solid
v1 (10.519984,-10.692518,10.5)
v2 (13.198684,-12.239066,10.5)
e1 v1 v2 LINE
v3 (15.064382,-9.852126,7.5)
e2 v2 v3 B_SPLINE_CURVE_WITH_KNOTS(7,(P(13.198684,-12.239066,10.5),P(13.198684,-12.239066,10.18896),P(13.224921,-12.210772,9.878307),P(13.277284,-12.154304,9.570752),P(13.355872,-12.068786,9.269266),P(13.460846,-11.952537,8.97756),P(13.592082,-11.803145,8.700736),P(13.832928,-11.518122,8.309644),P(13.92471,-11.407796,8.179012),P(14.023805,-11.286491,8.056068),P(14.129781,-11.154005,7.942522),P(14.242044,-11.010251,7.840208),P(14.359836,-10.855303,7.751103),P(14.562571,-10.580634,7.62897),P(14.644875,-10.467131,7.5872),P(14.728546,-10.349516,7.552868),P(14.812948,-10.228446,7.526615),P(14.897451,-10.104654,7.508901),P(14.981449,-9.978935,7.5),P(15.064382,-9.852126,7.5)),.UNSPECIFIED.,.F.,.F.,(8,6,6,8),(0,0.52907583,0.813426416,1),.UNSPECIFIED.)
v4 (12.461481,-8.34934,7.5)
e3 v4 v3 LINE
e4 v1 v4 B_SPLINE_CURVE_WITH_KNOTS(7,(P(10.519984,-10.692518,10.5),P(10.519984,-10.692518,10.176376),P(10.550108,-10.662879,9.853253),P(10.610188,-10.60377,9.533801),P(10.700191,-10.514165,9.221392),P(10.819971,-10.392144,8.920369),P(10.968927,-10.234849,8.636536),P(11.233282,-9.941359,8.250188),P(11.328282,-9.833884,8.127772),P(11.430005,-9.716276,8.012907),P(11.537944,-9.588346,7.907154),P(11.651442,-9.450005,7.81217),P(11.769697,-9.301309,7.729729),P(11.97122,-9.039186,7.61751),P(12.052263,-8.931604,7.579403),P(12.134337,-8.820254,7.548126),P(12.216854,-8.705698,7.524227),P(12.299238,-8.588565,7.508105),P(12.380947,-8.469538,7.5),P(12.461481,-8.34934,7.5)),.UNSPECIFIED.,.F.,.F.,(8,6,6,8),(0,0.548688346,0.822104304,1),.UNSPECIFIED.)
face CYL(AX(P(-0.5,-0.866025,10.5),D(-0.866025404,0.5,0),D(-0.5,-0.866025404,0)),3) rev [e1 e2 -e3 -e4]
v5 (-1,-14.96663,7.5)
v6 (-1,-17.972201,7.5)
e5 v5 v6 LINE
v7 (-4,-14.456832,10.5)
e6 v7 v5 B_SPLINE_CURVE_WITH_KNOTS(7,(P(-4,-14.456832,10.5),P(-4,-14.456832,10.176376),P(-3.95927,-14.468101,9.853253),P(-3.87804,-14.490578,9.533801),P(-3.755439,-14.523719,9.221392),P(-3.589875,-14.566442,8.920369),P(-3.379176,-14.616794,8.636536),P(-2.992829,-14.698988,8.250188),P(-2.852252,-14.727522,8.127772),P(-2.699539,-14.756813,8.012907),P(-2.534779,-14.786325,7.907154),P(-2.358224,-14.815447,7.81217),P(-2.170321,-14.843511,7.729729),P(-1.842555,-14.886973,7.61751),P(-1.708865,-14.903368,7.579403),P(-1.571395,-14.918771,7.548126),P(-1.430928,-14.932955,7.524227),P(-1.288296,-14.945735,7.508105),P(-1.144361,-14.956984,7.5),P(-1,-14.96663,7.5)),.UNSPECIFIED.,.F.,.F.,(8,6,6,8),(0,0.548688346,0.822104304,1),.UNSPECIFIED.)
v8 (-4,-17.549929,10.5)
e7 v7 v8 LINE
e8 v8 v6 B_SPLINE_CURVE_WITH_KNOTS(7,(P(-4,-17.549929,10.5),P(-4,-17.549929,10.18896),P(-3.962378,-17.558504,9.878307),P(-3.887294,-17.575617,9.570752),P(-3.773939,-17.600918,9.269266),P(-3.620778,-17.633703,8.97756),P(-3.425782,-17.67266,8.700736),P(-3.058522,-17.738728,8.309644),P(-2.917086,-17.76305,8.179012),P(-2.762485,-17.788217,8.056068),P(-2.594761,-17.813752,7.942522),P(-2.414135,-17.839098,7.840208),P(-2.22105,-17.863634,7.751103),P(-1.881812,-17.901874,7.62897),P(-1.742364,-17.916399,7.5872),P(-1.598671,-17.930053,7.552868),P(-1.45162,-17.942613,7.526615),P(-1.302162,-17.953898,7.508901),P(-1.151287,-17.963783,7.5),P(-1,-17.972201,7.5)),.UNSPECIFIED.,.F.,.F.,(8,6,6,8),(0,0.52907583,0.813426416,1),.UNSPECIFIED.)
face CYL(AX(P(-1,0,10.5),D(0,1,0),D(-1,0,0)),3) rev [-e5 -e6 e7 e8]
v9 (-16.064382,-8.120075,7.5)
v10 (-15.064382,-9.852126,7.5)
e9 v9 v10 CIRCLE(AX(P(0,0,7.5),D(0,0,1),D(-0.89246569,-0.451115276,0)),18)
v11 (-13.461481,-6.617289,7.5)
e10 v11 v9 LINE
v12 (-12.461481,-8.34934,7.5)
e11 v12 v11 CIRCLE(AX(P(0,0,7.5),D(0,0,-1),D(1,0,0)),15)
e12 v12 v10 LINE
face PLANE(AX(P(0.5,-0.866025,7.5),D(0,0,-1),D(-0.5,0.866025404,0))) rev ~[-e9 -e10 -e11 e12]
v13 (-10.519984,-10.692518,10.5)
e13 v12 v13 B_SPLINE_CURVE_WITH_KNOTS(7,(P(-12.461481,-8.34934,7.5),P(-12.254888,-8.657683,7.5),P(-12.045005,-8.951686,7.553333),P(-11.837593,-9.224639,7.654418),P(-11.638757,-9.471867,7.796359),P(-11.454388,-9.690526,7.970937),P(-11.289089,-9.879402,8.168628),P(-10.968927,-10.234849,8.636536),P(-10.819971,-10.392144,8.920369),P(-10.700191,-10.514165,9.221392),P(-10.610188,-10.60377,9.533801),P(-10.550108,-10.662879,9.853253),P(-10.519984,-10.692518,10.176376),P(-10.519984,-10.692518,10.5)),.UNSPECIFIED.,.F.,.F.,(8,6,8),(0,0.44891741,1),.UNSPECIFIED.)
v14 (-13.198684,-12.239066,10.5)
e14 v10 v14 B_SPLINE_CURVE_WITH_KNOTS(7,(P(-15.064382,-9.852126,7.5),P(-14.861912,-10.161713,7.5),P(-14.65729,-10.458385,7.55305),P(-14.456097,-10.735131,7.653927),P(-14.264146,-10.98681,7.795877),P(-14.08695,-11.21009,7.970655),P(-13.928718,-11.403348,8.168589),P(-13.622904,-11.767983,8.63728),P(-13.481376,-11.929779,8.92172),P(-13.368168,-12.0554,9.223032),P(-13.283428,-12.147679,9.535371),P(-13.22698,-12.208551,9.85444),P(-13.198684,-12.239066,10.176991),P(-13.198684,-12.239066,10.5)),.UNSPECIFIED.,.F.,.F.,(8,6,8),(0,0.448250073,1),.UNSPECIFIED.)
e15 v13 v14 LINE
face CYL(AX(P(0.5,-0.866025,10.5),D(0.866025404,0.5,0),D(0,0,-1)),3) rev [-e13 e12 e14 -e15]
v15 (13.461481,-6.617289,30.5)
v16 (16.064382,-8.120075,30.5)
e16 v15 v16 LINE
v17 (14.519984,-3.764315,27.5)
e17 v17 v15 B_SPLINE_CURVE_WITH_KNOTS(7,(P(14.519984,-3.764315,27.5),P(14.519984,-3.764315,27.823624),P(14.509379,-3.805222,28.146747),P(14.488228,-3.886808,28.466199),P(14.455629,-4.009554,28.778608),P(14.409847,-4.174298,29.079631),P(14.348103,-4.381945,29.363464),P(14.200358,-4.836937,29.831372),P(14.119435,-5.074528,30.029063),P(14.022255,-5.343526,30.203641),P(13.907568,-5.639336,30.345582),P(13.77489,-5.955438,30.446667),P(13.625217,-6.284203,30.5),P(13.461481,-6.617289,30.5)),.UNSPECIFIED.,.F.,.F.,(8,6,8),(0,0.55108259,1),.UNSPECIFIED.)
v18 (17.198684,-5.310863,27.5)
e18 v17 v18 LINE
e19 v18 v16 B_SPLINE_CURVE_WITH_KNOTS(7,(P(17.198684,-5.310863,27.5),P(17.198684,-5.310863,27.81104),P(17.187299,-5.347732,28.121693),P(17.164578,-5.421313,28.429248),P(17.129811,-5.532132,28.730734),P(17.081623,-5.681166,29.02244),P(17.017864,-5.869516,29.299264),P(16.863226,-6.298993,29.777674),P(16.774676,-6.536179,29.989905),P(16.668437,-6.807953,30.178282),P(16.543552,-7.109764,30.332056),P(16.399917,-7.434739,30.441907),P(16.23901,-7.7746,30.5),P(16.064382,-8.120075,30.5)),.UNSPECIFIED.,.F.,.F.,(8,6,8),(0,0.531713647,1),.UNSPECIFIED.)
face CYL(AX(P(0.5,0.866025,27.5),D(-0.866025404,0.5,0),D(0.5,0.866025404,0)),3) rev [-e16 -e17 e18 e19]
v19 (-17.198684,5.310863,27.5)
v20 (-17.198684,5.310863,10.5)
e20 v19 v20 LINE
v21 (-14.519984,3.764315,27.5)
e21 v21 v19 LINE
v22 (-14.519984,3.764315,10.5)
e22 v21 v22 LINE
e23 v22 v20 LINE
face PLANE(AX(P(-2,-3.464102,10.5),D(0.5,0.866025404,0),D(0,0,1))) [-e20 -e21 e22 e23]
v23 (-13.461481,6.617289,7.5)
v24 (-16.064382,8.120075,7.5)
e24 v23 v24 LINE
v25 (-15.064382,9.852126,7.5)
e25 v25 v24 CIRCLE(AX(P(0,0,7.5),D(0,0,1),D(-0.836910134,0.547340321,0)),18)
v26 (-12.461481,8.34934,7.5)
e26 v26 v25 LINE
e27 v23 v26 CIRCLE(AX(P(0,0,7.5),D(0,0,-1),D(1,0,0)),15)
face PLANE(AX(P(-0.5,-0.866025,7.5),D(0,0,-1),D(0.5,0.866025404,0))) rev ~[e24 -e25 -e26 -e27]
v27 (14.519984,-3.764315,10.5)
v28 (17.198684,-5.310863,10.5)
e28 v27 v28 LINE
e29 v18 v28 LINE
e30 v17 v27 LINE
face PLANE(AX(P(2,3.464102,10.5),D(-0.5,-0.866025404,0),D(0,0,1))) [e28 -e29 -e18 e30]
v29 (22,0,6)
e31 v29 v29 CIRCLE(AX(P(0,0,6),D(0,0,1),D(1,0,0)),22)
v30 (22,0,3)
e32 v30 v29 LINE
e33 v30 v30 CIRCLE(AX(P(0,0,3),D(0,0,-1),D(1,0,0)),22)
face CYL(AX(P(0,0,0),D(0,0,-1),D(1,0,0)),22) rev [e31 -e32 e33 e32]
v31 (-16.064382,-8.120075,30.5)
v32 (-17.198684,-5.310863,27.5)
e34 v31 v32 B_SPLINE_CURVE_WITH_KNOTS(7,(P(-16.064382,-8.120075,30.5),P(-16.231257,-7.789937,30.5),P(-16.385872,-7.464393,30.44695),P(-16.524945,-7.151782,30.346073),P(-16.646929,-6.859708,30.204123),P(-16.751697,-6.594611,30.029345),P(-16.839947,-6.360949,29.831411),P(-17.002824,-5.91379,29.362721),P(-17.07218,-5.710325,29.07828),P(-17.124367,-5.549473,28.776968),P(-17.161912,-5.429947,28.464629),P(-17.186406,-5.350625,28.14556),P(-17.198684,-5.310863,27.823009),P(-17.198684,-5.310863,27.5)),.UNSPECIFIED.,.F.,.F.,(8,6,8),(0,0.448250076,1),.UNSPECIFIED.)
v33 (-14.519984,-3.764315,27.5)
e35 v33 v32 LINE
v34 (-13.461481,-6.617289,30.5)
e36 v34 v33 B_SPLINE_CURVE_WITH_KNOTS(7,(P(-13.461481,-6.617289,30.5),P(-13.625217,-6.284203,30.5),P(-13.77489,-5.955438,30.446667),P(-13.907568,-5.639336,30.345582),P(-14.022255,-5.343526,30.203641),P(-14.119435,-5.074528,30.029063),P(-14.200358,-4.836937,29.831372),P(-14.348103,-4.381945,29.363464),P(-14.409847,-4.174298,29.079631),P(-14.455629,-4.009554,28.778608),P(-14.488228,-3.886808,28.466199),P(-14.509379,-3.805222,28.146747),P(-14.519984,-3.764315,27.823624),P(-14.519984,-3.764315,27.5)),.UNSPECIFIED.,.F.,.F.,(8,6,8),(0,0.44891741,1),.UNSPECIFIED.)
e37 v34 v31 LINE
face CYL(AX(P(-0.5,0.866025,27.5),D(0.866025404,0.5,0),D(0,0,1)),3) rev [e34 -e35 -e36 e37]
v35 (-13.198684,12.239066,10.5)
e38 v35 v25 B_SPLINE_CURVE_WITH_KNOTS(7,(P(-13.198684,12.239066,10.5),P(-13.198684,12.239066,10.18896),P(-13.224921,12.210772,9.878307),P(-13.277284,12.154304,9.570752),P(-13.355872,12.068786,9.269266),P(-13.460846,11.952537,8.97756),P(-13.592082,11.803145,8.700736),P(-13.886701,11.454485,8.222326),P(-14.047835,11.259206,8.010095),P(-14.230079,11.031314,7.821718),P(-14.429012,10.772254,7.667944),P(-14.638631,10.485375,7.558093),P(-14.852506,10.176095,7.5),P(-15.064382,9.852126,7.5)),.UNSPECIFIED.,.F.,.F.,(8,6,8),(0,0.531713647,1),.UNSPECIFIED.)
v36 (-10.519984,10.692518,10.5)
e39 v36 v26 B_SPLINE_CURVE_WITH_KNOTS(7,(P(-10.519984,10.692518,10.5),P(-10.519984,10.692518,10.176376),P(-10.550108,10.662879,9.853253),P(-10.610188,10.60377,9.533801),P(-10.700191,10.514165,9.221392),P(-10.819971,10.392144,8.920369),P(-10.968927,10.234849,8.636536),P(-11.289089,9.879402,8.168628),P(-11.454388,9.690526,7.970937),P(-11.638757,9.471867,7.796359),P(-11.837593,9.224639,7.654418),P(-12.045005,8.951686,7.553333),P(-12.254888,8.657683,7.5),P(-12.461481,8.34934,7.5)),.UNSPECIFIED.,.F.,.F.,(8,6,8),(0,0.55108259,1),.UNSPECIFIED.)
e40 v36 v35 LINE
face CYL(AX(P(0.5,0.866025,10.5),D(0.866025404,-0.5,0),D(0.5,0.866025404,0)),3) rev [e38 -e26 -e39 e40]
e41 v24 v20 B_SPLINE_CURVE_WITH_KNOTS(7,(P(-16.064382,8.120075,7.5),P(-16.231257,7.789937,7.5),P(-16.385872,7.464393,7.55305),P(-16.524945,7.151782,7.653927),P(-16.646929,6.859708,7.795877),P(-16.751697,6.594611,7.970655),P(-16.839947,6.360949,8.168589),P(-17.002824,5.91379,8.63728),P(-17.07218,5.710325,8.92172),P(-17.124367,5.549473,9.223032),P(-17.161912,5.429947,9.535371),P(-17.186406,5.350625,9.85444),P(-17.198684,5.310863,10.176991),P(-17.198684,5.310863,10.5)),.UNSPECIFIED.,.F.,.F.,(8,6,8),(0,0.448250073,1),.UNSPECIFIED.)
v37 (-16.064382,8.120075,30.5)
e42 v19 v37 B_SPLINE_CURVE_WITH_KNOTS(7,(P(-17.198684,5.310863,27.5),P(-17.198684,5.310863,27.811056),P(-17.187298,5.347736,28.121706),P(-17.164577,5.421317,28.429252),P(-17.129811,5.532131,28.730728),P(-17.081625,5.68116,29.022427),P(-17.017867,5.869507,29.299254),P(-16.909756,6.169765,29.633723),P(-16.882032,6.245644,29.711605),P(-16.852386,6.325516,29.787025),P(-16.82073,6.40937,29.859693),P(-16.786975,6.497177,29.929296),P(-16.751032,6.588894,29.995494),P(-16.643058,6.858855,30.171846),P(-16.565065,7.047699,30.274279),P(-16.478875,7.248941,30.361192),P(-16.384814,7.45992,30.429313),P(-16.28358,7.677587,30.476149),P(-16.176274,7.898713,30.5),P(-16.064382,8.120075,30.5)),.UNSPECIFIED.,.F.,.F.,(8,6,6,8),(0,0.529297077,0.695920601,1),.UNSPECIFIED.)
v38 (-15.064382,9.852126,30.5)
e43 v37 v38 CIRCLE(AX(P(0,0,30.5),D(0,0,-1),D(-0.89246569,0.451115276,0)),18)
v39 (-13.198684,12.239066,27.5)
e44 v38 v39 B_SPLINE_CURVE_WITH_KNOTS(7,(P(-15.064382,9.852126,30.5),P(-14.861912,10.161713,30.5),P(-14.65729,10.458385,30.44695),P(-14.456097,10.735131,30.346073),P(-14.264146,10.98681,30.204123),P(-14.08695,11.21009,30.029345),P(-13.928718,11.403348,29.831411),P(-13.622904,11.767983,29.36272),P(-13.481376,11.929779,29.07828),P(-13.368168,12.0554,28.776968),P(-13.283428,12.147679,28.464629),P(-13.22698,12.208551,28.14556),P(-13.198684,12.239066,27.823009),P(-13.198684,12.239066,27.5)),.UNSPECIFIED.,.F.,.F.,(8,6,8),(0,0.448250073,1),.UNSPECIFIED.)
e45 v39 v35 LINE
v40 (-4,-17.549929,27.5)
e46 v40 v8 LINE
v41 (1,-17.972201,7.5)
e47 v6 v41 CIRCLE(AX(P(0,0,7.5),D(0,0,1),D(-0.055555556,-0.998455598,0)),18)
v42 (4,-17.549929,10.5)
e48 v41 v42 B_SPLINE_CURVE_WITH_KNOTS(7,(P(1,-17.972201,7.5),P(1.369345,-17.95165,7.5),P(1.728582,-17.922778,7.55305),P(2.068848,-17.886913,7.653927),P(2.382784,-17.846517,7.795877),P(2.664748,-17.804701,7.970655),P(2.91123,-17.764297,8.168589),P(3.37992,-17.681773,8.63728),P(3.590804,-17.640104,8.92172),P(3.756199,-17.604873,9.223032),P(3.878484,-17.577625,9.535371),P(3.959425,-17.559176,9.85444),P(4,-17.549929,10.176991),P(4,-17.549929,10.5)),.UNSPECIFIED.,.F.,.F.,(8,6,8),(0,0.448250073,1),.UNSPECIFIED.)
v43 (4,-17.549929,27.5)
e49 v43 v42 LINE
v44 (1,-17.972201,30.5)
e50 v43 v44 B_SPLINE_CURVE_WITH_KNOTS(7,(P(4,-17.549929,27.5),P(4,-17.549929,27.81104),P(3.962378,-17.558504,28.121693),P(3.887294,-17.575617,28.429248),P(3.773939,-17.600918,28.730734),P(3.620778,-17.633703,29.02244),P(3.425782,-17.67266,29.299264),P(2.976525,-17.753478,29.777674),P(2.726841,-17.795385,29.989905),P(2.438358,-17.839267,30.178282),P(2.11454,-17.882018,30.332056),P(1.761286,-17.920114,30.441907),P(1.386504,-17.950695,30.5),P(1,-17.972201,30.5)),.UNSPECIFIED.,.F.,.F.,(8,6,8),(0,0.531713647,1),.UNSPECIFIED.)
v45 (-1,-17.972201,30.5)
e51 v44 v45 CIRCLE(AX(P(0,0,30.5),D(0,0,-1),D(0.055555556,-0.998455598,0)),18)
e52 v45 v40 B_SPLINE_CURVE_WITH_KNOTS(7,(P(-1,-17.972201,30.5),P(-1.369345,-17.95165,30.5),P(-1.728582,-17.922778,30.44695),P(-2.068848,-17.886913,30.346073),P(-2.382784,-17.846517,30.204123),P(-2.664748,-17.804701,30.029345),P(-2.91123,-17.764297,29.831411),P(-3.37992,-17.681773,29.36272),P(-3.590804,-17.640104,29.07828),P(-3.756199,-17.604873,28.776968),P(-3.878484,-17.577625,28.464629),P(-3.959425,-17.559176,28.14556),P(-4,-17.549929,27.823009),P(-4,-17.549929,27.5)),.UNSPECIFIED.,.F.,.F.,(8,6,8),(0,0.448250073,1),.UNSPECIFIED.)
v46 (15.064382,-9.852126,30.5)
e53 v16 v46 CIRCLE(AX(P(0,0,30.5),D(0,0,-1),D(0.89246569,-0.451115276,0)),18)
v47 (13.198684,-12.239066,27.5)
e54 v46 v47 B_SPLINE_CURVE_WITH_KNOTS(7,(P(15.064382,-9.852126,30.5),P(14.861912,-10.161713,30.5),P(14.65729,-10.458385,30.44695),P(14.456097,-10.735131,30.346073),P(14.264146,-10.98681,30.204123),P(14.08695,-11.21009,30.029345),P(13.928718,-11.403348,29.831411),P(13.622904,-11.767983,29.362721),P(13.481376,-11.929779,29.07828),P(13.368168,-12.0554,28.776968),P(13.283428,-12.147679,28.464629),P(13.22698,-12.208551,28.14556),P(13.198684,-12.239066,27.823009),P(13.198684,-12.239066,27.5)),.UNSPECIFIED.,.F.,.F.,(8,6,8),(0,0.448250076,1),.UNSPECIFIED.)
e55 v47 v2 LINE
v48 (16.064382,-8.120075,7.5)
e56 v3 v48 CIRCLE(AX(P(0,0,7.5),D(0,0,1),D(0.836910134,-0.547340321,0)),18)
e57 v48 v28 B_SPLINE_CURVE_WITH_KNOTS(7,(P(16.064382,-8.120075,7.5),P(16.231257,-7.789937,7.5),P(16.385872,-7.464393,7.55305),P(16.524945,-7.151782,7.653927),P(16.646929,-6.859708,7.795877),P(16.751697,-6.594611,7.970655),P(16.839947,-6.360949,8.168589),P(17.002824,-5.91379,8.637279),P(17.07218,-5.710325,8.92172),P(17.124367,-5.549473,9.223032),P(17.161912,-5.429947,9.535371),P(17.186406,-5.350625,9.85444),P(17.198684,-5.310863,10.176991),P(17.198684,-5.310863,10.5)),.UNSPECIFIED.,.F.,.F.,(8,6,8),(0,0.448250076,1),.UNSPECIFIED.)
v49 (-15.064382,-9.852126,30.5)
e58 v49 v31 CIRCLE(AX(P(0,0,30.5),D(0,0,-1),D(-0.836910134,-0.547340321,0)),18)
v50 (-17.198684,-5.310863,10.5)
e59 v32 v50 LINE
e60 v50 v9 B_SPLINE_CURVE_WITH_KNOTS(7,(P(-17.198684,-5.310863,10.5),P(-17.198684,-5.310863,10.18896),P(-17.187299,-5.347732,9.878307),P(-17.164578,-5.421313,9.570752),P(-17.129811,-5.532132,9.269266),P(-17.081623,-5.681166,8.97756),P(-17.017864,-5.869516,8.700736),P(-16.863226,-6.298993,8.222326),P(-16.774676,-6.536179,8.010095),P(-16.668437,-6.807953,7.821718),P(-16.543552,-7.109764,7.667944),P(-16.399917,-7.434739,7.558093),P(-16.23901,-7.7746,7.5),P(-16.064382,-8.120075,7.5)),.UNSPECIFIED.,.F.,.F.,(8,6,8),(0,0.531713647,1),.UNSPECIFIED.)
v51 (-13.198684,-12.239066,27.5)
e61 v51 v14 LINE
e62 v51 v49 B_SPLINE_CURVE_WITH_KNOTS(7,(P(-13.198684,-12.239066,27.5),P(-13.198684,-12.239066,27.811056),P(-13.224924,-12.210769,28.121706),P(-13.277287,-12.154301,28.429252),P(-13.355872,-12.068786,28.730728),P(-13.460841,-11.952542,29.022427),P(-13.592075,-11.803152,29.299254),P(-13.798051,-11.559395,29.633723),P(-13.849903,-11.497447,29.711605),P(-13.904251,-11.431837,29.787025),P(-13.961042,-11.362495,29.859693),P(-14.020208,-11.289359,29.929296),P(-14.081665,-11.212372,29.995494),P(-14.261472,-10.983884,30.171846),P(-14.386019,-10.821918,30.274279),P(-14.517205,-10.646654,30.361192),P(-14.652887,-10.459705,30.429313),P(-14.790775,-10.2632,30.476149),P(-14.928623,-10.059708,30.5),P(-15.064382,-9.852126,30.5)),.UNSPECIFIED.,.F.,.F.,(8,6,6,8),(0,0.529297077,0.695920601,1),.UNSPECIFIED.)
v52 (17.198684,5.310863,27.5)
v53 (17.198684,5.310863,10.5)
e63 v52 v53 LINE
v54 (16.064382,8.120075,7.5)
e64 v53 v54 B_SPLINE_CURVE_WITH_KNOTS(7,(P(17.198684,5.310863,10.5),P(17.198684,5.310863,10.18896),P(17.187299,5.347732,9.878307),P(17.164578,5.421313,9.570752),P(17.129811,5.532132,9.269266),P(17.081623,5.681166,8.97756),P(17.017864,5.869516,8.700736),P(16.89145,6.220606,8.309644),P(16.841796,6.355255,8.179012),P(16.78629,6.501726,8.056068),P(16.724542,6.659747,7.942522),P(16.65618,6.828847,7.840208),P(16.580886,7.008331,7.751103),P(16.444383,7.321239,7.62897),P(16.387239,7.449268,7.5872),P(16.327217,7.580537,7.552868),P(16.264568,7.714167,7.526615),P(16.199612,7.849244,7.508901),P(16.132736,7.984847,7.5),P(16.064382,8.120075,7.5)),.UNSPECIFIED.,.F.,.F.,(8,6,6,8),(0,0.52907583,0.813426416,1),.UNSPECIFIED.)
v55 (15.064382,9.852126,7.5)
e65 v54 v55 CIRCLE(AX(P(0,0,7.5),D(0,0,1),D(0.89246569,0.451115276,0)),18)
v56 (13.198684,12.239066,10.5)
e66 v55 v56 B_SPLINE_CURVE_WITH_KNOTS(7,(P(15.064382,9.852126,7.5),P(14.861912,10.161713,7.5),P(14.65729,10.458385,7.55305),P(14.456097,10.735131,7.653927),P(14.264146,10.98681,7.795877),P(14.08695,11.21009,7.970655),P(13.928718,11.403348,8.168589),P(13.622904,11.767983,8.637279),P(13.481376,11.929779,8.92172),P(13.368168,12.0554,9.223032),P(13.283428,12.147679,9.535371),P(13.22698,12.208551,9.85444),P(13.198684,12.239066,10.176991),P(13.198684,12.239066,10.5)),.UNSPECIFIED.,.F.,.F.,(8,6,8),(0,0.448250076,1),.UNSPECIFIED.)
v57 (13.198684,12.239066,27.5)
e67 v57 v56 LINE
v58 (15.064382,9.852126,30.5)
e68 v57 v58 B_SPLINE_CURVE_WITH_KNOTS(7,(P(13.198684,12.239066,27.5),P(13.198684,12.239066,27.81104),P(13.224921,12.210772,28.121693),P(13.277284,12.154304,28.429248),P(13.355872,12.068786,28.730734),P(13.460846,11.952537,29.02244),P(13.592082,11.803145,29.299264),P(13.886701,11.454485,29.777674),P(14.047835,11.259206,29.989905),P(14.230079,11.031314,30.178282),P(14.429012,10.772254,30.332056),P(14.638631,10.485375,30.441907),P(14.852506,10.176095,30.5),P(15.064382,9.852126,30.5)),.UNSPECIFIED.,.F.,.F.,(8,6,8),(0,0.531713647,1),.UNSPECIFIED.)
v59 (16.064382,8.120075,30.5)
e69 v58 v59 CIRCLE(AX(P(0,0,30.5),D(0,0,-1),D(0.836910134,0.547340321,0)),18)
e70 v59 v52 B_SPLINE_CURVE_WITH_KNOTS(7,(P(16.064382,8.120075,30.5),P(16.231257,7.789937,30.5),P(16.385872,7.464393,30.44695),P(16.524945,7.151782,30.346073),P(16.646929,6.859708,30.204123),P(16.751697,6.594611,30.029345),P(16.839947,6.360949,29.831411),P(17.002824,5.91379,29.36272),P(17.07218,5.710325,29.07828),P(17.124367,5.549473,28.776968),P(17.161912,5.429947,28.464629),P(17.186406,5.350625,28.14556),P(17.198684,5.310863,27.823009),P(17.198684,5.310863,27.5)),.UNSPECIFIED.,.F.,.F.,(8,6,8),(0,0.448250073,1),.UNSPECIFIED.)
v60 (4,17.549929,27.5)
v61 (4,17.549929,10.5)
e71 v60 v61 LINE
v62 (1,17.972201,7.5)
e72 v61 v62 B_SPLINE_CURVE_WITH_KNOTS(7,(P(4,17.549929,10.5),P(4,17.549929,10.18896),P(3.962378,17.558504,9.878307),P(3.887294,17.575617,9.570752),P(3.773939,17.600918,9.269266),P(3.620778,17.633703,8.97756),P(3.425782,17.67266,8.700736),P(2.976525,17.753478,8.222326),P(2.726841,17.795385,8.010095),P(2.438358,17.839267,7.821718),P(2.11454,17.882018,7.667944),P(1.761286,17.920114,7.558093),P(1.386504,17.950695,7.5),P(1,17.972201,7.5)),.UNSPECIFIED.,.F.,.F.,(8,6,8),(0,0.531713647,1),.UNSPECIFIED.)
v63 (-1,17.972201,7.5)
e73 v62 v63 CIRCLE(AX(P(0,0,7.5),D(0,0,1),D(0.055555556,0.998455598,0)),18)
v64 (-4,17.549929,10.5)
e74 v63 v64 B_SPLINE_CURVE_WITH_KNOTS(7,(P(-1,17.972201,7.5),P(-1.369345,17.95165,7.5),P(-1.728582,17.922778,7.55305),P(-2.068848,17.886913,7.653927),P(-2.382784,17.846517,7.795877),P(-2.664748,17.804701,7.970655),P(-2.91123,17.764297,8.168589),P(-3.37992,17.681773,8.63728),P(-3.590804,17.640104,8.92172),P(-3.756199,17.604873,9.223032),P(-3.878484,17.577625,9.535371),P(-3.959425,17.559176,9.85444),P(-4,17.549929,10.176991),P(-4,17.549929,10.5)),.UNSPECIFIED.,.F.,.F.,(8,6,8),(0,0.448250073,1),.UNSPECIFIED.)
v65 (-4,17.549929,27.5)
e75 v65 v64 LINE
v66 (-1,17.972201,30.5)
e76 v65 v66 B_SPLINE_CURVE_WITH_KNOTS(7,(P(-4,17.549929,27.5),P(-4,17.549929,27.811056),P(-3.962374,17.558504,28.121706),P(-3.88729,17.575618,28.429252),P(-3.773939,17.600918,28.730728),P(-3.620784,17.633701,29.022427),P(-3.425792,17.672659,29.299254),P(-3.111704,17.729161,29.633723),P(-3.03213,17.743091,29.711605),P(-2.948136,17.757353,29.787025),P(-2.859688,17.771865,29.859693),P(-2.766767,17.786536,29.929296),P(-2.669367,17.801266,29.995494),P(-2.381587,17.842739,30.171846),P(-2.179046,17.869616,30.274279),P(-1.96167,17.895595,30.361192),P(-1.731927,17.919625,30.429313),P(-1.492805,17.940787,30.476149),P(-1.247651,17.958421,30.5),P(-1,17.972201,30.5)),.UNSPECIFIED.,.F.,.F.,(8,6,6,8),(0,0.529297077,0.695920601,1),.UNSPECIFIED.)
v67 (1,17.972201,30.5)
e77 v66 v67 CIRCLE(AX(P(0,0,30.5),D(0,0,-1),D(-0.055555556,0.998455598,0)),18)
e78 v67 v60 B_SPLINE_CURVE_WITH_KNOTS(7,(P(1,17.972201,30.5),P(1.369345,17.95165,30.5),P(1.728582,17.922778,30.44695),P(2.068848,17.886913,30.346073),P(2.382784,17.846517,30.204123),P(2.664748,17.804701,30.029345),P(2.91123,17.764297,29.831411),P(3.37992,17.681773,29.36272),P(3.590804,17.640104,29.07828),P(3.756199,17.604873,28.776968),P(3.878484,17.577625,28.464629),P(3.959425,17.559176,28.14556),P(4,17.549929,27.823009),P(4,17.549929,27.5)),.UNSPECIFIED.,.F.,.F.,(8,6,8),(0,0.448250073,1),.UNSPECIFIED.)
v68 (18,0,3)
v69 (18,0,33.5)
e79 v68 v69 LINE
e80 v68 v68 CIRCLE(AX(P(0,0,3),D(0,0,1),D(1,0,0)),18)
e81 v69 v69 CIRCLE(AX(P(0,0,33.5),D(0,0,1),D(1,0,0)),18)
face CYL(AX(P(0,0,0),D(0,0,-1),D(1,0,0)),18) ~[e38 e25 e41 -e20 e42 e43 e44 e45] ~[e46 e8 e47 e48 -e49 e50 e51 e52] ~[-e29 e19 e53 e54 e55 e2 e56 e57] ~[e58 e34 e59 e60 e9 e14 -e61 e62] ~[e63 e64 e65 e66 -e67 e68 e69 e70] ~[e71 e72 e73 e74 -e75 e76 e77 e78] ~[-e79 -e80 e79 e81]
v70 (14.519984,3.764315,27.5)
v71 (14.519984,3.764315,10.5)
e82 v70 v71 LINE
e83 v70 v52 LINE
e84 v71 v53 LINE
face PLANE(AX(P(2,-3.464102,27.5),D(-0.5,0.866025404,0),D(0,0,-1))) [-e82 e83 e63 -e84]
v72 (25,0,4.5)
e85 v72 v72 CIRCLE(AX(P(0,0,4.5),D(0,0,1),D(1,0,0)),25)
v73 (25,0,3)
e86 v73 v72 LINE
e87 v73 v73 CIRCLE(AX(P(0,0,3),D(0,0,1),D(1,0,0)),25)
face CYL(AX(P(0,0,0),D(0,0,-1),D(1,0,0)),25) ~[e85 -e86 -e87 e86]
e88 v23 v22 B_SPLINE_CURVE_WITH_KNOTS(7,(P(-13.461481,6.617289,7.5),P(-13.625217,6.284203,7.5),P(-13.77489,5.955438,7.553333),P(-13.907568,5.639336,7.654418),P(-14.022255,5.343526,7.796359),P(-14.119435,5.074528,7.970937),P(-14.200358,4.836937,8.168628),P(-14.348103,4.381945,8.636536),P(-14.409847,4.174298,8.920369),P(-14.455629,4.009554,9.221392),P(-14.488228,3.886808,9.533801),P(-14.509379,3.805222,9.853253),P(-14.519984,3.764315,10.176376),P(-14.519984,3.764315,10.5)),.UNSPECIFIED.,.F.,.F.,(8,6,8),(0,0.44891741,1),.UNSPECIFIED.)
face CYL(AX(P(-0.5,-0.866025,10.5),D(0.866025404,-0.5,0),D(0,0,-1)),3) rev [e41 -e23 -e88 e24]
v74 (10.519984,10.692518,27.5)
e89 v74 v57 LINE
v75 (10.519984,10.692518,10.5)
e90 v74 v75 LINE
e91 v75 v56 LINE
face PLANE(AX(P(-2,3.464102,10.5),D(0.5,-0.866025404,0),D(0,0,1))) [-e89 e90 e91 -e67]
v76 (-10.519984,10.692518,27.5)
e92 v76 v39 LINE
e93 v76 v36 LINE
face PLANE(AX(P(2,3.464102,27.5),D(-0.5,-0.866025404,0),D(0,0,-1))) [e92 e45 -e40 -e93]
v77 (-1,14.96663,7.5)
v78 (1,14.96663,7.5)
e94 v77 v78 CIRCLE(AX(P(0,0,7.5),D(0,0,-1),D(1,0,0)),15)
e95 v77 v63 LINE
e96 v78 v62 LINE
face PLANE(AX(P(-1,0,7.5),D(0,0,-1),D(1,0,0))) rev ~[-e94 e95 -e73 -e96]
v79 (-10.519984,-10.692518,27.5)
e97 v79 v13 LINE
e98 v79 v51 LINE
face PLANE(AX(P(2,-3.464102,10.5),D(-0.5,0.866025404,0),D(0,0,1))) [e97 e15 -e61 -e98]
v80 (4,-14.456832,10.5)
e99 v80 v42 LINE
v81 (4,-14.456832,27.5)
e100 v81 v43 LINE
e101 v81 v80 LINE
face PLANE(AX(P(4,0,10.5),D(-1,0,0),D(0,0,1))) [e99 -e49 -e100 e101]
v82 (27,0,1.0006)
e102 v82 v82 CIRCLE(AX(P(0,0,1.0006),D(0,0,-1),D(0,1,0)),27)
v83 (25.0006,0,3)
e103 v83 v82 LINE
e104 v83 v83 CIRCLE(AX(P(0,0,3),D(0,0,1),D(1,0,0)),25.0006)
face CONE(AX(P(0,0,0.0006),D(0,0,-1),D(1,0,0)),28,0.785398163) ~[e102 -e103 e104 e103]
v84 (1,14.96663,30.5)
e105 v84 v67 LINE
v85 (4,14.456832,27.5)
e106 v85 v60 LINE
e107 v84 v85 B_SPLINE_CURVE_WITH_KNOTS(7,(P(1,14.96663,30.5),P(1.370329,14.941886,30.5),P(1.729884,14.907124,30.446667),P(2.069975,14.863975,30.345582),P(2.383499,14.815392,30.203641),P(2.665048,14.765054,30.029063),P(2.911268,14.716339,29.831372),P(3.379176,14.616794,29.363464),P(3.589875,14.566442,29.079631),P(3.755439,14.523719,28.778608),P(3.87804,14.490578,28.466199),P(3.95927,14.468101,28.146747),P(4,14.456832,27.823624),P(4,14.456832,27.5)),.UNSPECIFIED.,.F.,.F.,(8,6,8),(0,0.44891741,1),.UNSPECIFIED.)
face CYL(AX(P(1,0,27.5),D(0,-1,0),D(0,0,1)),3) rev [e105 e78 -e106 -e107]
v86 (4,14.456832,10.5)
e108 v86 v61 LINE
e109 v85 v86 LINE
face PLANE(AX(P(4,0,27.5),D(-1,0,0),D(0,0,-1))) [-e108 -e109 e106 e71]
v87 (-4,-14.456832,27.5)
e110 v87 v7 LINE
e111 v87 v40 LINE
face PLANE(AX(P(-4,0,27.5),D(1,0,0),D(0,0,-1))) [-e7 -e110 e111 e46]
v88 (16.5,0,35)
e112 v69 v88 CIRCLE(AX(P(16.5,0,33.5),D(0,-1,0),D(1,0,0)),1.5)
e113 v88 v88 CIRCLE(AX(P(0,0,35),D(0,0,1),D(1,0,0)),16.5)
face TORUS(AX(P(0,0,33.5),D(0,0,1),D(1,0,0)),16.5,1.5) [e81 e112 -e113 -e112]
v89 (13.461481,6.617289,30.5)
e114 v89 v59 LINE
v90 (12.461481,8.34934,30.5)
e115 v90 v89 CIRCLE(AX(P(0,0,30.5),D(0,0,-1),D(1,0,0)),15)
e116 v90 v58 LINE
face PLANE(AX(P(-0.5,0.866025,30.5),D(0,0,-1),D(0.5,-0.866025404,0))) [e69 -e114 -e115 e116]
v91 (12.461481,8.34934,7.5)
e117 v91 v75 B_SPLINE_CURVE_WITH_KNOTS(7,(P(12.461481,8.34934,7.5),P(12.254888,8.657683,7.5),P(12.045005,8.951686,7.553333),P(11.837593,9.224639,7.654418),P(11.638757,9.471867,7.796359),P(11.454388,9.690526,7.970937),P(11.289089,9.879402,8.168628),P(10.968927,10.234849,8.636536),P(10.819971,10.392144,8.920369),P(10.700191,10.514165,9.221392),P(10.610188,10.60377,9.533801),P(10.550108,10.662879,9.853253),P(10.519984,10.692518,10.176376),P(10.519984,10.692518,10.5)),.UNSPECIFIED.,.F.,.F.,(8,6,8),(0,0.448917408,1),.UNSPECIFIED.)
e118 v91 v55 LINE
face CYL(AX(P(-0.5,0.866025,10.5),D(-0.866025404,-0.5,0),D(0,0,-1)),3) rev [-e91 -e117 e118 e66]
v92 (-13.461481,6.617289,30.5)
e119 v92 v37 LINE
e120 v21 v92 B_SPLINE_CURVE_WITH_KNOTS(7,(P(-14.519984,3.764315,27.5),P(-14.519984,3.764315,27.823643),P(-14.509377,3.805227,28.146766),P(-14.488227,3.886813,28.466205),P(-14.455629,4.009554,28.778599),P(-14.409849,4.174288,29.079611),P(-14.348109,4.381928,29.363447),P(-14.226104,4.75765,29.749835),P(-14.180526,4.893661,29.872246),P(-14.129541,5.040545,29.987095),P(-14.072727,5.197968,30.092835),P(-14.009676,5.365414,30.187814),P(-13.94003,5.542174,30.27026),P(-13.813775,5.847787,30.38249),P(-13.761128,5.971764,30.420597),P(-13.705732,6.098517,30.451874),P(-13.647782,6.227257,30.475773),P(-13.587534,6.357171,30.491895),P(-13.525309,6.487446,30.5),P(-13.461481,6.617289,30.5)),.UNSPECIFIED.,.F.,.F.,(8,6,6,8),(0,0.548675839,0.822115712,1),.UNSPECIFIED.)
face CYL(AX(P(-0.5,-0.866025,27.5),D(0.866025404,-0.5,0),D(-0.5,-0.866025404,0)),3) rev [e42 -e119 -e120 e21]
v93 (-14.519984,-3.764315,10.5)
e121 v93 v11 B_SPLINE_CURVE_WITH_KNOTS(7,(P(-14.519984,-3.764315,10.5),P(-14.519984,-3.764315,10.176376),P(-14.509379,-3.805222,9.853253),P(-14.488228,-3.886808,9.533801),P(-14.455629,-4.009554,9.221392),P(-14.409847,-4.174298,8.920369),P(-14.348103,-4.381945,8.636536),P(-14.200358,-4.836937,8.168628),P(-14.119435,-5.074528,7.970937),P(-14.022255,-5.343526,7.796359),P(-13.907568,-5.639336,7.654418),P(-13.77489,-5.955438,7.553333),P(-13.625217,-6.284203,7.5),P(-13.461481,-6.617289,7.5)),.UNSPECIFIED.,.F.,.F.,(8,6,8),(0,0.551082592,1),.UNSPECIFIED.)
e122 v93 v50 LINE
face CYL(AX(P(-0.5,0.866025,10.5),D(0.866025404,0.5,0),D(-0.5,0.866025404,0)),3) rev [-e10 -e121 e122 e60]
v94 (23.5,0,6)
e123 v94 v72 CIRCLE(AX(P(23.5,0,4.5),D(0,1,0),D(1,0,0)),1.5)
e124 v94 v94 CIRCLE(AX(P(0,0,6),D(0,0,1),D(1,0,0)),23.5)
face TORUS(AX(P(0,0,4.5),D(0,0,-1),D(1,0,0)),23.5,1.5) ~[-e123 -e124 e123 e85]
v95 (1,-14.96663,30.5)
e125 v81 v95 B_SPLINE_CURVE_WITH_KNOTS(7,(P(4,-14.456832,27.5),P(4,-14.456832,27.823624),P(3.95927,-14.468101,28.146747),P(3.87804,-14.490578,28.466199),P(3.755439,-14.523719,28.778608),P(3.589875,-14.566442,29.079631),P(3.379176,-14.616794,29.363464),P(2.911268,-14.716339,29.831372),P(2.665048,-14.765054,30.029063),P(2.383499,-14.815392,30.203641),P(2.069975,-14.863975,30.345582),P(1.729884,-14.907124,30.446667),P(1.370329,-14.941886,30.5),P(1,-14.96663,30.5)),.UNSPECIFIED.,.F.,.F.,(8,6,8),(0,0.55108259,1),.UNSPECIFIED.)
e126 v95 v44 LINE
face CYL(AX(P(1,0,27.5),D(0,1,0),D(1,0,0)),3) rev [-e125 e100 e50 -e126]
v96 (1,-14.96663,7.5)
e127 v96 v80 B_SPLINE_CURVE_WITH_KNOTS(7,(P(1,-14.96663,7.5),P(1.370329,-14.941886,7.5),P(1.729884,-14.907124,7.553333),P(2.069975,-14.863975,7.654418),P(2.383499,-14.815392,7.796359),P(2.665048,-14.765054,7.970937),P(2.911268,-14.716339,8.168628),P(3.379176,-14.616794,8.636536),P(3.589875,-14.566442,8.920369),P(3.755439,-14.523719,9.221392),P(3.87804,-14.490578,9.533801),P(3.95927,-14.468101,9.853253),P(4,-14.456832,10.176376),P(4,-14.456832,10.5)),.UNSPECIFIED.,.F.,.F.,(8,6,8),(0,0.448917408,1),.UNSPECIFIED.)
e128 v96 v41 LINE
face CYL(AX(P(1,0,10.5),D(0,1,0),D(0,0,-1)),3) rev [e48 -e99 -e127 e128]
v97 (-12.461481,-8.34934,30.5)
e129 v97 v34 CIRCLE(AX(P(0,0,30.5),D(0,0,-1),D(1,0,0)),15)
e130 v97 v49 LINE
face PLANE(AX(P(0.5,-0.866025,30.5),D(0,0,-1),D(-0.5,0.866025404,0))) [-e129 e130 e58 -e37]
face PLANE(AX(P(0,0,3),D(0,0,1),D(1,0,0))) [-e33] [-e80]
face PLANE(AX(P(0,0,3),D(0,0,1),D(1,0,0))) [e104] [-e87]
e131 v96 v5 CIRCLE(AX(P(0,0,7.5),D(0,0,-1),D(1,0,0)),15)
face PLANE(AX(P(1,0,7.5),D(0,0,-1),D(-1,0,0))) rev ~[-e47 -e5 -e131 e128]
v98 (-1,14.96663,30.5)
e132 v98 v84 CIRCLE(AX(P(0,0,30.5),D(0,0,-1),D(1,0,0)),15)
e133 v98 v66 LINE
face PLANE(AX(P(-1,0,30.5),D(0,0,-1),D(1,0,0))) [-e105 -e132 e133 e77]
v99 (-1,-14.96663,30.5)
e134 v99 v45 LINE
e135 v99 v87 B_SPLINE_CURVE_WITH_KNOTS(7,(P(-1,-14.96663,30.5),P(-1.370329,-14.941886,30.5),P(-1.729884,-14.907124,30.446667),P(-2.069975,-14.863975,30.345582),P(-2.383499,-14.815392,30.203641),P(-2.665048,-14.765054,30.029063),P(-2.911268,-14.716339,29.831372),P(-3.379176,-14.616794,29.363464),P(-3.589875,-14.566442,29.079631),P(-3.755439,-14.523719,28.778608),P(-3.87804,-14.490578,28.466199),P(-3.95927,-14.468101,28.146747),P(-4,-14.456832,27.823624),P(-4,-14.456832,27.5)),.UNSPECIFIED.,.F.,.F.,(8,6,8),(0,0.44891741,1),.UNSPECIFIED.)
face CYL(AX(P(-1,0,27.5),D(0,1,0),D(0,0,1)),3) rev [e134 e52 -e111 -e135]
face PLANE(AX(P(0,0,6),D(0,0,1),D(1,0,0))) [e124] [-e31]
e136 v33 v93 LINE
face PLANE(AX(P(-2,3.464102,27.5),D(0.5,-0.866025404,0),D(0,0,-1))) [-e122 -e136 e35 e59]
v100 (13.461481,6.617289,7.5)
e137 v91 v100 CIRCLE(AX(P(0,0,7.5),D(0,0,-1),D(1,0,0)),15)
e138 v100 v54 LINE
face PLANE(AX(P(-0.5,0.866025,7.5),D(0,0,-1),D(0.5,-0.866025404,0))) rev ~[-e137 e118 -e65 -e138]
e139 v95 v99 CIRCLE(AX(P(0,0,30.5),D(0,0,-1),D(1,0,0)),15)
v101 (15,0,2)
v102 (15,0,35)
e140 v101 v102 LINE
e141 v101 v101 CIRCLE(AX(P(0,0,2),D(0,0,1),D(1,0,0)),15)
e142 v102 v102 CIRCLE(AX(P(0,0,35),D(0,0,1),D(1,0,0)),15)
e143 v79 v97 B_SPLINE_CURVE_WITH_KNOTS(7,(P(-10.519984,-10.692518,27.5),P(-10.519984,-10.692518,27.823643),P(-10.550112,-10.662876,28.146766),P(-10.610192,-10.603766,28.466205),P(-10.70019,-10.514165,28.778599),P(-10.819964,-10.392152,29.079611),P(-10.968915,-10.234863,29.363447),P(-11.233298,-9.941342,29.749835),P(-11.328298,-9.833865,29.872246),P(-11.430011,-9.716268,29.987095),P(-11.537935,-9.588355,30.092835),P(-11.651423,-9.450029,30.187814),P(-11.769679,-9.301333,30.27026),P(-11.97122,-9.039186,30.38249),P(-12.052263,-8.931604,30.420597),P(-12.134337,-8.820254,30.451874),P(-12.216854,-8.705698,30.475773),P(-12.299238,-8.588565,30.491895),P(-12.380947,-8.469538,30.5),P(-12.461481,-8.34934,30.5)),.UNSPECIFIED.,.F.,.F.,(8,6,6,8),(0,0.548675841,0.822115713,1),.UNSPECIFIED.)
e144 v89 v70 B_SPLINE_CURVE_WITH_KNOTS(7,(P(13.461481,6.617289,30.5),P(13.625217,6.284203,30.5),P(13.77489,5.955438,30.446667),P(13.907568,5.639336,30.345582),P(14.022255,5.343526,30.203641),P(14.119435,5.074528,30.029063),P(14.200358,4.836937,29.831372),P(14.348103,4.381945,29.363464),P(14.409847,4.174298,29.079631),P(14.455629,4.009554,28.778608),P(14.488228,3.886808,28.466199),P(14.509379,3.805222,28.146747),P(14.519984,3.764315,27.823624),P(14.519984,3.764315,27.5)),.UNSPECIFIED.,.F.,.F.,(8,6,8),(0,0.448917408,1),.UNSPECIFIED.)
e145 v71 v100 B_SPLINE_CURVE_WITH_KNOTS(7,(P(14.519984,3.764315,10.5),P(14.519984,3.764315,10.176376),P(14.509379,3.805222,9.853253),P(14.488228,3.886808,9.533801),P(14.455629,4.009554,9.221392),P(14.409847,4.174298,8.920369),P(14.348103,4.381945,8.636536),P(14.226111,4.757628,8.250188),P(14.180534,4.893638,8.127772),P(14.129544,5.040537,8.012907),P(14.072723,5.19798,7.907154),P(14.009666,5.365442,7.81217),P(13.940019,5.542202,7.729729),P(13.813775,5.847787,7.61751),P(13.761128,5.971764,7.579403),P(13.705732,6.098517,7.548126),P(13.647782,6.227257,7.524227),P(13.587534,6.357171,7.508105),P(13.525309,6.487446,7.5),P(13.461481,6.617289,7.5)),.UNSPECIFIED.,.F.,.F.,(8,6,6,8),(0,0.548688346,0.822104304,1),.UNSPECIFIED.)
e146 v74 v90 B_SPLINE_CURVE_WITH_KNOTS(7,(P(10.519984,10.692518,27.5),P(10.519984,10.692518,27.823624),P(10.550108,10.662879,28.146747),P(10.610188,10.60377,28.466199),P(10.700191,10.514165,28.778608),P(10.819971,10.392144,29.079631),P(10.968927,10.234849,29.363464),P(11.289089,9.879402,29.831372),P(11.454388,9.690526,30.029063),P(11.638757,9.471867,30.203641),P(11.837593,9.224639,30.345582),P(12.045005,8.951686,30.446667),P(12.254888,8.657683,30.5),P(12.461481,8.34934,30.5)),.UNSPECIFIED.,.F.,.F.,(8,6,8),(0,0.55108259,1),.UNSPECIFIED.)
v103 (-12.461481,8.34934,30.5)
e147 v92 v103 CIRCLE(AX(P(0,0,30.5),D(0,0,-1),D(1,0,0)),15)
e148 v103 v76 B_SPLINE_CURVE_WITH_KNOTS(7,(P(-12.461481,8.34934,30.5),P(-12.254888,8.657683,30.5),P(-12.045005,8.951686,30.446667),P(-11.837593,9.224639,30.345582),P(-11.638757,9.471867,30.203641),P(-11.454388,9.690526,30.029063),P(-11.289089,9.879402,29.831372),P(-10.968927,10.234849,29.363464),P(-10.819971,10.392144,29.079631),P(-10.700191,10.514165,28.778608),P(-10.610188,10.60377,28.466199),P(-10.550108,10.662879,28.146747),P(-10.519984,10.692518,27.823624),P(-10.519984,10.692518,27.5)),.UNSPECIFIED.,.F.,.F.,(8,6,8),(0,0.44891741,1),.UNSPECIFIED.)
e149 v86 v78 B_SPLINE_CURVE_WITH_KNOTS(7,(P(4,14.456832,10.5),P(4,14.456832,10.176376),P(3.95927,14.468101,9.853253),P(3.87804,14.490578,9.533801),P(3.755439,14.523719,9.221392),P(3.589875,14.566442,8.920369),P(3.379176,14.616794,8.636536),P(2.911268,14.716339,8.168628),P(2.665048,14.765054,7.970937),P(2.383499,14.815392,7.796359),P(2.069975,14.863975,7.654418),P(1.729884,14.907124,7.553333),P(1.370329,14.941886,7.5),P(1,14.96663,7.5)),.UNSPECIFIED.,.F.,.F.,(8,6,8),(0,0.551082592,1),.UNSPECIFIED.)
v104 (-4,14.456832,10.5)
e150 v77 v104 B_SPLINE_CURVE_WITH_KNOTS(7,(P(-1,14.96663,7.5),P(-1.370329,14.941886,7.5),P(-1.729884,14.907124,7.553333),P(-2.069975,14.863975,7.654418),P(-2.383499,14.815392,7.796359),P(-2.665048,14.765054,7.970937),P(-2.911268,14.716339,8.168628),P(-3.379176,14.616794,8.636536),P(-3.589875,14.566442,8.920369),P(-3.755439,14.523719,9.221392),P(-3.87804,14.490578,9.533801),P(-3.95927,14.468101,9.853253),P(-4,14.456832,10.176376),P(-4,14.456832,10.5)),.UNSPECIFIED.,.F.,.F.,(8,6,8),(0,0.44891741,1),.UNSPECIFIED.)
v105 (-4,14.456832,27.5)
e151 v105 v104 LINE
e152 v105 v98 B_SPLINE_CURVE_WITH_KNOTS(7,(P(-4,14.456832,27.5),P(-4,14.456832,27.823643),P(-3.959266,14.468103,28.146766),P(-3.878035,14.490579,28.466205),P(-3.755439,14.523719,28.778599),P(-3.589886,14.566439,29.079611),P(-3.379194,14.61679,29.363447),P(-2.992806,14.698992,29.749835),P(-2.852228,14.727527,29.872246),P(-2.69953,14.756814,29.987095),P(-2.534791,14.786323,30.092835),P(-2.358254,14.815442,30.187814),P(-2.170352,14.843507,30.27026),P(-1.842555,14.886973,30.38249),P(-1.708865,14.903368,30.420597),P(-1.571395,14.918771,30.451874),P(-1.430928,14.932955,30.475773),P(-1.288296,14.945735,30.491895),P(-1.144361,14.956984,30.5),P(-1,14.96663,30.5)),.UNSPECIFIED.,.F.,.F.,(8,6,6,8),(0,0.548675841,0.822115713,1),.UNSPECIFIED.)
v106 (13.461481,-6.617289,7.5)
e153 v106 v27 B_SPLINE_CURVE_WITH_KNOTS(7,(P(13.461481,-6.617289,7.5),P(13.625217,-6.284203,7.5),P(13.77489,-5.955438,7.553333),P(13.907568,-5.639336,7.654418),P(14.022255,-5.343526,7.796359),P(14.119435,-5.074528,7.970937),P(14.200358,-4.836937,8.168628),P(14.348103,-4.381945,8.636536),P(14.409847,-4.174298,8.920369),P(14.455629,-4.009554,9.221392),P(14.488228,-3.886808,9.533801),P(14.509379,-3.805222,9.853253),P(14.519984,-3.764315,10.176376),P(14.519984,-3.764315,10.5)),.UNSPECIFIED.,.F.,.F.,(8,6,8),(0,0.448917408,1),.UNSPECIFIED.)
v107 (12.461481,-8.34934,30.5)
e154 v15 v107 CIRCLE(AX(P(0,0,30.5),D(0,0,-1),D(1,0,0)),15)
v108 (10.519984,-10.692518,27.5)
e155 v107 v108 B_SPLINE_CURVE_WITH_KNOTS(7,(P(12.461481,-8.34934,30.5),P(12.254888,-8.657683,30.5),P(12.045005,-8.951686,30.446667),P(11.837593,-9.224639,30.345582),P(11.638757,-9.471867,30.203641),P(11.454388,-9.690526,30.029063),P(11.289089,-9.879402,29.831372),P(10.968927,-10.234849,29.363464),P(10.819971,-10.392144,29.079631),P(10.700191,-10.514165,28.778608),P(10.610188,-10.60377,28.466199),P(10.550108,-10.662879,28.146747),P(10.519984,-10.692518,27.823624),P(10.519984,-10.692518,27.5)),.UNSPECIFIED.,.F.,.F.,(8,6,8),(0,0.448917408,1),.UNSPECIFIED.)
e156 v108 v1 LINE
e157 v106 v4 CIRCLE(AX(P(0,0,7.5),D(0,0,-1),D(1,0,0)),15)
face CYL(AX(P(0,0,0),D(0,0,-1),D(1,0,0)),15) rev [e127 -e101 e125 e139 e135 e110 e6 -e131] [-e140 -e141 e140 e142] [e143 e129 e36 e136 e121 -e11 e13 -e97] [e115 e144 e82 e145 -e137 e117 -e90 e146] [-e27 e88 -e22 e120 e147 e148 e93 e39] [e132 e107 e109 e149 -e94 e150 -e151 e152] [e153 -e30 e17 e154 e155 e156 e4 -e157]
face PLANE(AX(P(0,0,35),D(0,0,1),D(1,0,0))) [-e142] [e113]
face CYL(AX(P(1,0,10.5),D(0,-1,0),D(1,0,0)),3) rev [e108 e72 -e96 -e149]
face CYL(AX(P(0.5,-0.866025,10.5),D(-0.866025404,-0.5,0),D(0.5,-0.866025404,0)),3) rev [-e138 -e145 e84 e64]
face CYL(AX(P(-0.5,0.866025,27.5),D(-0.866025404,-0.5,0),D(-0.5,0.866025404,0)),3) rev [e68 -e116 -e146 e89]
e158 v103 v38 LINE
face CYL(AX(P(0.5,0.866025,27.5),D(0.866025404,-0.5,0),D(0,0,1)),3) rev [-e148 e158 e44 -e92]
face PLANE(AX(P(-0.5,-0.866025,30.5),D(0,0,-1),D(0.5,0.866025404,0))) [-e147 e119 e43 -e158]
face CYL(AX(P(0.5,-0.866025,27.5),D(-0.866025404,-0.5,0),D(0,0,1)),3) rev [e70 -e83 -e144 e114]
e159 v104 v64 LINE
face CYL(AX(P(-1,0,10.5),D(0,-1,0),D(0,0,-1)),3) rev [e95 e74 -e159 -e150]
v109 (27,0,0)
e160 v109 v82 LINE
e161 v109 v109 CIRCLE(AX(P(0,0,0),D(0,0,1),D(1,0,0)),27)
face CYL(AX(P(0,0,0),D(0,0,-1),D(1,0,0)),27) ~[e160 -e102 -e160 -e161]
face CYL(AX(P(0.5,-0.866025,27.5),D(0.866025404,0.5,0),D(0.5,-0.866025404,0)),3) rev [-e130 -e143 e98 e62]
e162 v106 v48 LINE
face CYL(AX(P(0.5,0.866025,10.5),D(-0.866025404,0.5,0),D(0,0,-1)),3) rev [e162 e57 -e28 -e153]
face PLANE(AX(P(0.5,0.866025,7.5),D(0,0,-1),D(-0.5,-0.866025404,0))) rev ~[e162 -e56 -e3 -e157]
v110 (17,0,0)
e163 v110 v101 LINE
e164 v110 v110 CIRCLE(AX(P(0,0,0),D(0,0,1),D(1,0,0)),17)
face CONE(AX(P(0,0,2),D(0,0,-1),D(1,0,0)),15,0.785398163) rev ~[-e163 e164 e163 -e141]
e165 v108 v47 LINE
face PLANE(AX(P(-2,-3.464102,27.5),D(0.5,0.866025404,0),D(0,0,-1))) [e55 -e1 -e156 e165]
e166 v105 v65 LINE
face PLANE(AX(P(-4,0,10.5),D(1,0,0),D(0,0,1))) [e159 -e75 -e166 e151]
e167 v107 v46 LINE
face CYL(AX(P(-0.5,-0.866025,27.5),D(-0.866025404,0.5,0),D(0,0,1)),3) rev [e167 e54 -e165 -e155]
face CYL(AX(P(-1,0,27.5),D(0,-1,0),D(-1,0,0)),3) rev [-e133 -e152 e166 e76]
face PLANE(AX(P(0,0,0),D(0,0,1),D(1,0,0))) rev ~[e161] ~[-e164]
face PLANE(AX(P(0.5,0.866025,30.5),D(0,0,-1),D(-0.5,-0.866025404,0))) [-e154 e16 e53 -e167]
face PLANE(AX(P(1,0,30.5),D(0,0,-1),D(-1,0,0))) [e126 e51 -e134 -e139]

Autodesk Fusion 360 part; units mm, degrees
sketch "insert_base" plane through (0, 0, 0) normal (0, 0, 1) x (1, 0, 0)
  circle A0 centre (0, 0) radius 25
  circle A1 centre (0, 0) radius 28
  circle A2 centre (0, 0) radius 22
  circle A3 centre (0, 0) radius 27
  dimension "d22" = 50
  dimension "d23" = 56
  dimension "d24" = 44
  dimension "d109" = 54
extrude "Extrude4" add sketch "insert_base" along normal blind 6 contours A0 makes body 1
extrude "Extrude5" add sketch "insert_base" along normal blind 3 contours A1 | A3 bodies 1
chamfer "Chamfer2" distance 3 angle 45 1 edges at (-26.1052, -10.1252, 3) on bodies 1
sketch "basket_base" plane through (0, 0, 0) normal (0, 0, 1) x (1, 0, 0)
  circle A0 centre (0, 0) radius 25
  circle A1 centre (0, 0) radius 15
  circle A2 centre (0, 0) radius 18
  dimension "d30" = 50
  dimension "d31" = 30
  dimension "d32" = 36
copy_body "CopyPasteBodies1" bodies 1 makes body 2
extrude "Extrude6" add sketch "basket_base" along normal blind 3 contours A0 bodies 2
extrude "Extrude7" add sketch "basket_base" along normal blind 35 contours A2 bodies 2
fillet "Fillet3" radius 1.5 1 edges at (-16.7819, -6.5091, 35) on bodies 2
fillet "Fillet4" radius 1.5 1 edges at (-23.3082, -9.0404, 6) on bodies 2
fillet "Fillet5" radius 1.5 1 edges at (-23.3082, -9.0404, 6) on bodies 1
chamfer "Chamfer3" distance 2 angle 45 1 edges at (-13.9849, 5.4242, 0) on bodies 2
sketch "basket_cutout" plane through (0, 0, 0) normal (0, 1, 0) x (1, 0, 0)
  line L0 (0, 0) -> (0, -0.8242)
  line L1 (0, 0) -> (4, 0)
  line L2 (4, 0) -> (-4, 0)
  line L3 (-4, -10.5) -> (-4, -27.5)
  line L4 (-1, -30.5) -> (1, -30.5)
  line L5 (4, -27.5) -> (4, -10.5)
  line L6 (4, 0) -> (-4, 0)
  line L7 (-4, 0) -> (-4, -7.5)
  line L8 (-1, -7.5) -> (1, -7.5)
  line L9 (4, -7.5) -> (4, 0)
  arc A0 (1, -30.5) -> (4, -27.5) centre (1, -27.5) ccw
  arc A1 (-4, -27.5) -> (-1, -30.5) centre (-1, -27.5) ccw
  arc A2 (4, -10.5) -> (1, -7.5) centre (1, -10.5) ccw
  arc A3 (-1, -7.5) -> (-4, -10.5) centre (-1, -10.5) ccw
  point P0 (4, -30.5)
  dimension "d93" = 4
  dimension "d94" = 8
  dimension "d95" = 30.5
  dimension "d96" = 7.5
  dimension "d98" = 3
  dimension "d99" = 3
  dimension "d100" = 3
  dimension "d101" = 3
extrude "Extrude12" cut sketch "basket_cutout" along normal blind 18 bodies 2
pattern_circular "C-Pattern4" count 6 over 360 about axis through (0, 0, 1.75) along (0, 0, 1) of "Extrude12"
extrude "Extrude13" cut sketch "insert_base" along normal blind 6 contours A1 bodies 2
hidden bodies 1
equation "wall_thickness = 3 mm" comment "Thickness off the walls of the insert, the walls of the basket, the flat top, etc."
equation "_insert_outer_diameter = 50 mm" comment "Do not edit."
equation "d22 = _insert_outer_diameter"
equation "d23 = _insert_outer_diameter + ( 2 * wall_thickness )"
equation "d24 = _insert_outer_diameter - ( 2 * wall_thickness )"
equation "d25 = wall_thickness * 2"
equation "d27 = wall_thickness"
equation "d29 = wall_thickness"
equation "d30 = _insert_outer_diameter"
equation "d31 = basket_inner_diameter"
equation "d32 = basket_inner_diameter + ( wall_thickness * 2 )"
equation "d33 = wall_thickness"
equation "d35 = basket_length"
equation "d63 = basket_opening_chamfer"
equation "basket_length = 35 mm" comment "Max length of the basket."
equation "basket_cutout_num = 6" comment "Number of holes in the basket."
equation "basket_cutout_width = 8 mm" comment "Width of the holes in the basket."
equation "basket_cutout_distance_from_edge = 4.5 mm" comment "Distance from the bottom of the basket hole cutout, and the floor geometry, also distance down from max length of the basket."
equation "d93 = basket_cutout_width / 2"
equation "d94 = basket_cutout_width"
equation "d95 = basket_length - basket_cutout_distance_from_edge"
equation "d96 = basket_cutout_distance_from_edge + wall_thickness"
equation "d98 = ( basket_cutout_width / 2 ) - 1 mm"
equation "d99 = ( basket_cutout_width / 2 ) - 1 mm"
equation "d100 = ( basket_cutout_width / 2 ) - 1 mm"
equation "d101 = ( basket_cutout_width / 2 ) - 1 mm"
equation "basket_inner_diameter = 30 mm" comment "Width of the basket, bigger for wider basket, limited to insert_outer_diameter."
equation "d103 = basket_inner_diameter / 2 + wall_thickness"
equation "d105 = basket_cutout_num"
equation "insert_overhang_edge_cutoff = 1 mm" comment "Blunt the insert overhang that fits into the adapter, by cutting off some of the edge."
equation "basket_opening_chamfer = 2 mm" comment "Chamfer the opening of the basket, to soften the edge where cuttings are inserted."
equation "d109 = _insert_outer_diameter + ( 2 * wall_thickness ) - ( 2 * insert_overhang_edge_cutoff )"
equation "d110 = wall_thickness * 2"
